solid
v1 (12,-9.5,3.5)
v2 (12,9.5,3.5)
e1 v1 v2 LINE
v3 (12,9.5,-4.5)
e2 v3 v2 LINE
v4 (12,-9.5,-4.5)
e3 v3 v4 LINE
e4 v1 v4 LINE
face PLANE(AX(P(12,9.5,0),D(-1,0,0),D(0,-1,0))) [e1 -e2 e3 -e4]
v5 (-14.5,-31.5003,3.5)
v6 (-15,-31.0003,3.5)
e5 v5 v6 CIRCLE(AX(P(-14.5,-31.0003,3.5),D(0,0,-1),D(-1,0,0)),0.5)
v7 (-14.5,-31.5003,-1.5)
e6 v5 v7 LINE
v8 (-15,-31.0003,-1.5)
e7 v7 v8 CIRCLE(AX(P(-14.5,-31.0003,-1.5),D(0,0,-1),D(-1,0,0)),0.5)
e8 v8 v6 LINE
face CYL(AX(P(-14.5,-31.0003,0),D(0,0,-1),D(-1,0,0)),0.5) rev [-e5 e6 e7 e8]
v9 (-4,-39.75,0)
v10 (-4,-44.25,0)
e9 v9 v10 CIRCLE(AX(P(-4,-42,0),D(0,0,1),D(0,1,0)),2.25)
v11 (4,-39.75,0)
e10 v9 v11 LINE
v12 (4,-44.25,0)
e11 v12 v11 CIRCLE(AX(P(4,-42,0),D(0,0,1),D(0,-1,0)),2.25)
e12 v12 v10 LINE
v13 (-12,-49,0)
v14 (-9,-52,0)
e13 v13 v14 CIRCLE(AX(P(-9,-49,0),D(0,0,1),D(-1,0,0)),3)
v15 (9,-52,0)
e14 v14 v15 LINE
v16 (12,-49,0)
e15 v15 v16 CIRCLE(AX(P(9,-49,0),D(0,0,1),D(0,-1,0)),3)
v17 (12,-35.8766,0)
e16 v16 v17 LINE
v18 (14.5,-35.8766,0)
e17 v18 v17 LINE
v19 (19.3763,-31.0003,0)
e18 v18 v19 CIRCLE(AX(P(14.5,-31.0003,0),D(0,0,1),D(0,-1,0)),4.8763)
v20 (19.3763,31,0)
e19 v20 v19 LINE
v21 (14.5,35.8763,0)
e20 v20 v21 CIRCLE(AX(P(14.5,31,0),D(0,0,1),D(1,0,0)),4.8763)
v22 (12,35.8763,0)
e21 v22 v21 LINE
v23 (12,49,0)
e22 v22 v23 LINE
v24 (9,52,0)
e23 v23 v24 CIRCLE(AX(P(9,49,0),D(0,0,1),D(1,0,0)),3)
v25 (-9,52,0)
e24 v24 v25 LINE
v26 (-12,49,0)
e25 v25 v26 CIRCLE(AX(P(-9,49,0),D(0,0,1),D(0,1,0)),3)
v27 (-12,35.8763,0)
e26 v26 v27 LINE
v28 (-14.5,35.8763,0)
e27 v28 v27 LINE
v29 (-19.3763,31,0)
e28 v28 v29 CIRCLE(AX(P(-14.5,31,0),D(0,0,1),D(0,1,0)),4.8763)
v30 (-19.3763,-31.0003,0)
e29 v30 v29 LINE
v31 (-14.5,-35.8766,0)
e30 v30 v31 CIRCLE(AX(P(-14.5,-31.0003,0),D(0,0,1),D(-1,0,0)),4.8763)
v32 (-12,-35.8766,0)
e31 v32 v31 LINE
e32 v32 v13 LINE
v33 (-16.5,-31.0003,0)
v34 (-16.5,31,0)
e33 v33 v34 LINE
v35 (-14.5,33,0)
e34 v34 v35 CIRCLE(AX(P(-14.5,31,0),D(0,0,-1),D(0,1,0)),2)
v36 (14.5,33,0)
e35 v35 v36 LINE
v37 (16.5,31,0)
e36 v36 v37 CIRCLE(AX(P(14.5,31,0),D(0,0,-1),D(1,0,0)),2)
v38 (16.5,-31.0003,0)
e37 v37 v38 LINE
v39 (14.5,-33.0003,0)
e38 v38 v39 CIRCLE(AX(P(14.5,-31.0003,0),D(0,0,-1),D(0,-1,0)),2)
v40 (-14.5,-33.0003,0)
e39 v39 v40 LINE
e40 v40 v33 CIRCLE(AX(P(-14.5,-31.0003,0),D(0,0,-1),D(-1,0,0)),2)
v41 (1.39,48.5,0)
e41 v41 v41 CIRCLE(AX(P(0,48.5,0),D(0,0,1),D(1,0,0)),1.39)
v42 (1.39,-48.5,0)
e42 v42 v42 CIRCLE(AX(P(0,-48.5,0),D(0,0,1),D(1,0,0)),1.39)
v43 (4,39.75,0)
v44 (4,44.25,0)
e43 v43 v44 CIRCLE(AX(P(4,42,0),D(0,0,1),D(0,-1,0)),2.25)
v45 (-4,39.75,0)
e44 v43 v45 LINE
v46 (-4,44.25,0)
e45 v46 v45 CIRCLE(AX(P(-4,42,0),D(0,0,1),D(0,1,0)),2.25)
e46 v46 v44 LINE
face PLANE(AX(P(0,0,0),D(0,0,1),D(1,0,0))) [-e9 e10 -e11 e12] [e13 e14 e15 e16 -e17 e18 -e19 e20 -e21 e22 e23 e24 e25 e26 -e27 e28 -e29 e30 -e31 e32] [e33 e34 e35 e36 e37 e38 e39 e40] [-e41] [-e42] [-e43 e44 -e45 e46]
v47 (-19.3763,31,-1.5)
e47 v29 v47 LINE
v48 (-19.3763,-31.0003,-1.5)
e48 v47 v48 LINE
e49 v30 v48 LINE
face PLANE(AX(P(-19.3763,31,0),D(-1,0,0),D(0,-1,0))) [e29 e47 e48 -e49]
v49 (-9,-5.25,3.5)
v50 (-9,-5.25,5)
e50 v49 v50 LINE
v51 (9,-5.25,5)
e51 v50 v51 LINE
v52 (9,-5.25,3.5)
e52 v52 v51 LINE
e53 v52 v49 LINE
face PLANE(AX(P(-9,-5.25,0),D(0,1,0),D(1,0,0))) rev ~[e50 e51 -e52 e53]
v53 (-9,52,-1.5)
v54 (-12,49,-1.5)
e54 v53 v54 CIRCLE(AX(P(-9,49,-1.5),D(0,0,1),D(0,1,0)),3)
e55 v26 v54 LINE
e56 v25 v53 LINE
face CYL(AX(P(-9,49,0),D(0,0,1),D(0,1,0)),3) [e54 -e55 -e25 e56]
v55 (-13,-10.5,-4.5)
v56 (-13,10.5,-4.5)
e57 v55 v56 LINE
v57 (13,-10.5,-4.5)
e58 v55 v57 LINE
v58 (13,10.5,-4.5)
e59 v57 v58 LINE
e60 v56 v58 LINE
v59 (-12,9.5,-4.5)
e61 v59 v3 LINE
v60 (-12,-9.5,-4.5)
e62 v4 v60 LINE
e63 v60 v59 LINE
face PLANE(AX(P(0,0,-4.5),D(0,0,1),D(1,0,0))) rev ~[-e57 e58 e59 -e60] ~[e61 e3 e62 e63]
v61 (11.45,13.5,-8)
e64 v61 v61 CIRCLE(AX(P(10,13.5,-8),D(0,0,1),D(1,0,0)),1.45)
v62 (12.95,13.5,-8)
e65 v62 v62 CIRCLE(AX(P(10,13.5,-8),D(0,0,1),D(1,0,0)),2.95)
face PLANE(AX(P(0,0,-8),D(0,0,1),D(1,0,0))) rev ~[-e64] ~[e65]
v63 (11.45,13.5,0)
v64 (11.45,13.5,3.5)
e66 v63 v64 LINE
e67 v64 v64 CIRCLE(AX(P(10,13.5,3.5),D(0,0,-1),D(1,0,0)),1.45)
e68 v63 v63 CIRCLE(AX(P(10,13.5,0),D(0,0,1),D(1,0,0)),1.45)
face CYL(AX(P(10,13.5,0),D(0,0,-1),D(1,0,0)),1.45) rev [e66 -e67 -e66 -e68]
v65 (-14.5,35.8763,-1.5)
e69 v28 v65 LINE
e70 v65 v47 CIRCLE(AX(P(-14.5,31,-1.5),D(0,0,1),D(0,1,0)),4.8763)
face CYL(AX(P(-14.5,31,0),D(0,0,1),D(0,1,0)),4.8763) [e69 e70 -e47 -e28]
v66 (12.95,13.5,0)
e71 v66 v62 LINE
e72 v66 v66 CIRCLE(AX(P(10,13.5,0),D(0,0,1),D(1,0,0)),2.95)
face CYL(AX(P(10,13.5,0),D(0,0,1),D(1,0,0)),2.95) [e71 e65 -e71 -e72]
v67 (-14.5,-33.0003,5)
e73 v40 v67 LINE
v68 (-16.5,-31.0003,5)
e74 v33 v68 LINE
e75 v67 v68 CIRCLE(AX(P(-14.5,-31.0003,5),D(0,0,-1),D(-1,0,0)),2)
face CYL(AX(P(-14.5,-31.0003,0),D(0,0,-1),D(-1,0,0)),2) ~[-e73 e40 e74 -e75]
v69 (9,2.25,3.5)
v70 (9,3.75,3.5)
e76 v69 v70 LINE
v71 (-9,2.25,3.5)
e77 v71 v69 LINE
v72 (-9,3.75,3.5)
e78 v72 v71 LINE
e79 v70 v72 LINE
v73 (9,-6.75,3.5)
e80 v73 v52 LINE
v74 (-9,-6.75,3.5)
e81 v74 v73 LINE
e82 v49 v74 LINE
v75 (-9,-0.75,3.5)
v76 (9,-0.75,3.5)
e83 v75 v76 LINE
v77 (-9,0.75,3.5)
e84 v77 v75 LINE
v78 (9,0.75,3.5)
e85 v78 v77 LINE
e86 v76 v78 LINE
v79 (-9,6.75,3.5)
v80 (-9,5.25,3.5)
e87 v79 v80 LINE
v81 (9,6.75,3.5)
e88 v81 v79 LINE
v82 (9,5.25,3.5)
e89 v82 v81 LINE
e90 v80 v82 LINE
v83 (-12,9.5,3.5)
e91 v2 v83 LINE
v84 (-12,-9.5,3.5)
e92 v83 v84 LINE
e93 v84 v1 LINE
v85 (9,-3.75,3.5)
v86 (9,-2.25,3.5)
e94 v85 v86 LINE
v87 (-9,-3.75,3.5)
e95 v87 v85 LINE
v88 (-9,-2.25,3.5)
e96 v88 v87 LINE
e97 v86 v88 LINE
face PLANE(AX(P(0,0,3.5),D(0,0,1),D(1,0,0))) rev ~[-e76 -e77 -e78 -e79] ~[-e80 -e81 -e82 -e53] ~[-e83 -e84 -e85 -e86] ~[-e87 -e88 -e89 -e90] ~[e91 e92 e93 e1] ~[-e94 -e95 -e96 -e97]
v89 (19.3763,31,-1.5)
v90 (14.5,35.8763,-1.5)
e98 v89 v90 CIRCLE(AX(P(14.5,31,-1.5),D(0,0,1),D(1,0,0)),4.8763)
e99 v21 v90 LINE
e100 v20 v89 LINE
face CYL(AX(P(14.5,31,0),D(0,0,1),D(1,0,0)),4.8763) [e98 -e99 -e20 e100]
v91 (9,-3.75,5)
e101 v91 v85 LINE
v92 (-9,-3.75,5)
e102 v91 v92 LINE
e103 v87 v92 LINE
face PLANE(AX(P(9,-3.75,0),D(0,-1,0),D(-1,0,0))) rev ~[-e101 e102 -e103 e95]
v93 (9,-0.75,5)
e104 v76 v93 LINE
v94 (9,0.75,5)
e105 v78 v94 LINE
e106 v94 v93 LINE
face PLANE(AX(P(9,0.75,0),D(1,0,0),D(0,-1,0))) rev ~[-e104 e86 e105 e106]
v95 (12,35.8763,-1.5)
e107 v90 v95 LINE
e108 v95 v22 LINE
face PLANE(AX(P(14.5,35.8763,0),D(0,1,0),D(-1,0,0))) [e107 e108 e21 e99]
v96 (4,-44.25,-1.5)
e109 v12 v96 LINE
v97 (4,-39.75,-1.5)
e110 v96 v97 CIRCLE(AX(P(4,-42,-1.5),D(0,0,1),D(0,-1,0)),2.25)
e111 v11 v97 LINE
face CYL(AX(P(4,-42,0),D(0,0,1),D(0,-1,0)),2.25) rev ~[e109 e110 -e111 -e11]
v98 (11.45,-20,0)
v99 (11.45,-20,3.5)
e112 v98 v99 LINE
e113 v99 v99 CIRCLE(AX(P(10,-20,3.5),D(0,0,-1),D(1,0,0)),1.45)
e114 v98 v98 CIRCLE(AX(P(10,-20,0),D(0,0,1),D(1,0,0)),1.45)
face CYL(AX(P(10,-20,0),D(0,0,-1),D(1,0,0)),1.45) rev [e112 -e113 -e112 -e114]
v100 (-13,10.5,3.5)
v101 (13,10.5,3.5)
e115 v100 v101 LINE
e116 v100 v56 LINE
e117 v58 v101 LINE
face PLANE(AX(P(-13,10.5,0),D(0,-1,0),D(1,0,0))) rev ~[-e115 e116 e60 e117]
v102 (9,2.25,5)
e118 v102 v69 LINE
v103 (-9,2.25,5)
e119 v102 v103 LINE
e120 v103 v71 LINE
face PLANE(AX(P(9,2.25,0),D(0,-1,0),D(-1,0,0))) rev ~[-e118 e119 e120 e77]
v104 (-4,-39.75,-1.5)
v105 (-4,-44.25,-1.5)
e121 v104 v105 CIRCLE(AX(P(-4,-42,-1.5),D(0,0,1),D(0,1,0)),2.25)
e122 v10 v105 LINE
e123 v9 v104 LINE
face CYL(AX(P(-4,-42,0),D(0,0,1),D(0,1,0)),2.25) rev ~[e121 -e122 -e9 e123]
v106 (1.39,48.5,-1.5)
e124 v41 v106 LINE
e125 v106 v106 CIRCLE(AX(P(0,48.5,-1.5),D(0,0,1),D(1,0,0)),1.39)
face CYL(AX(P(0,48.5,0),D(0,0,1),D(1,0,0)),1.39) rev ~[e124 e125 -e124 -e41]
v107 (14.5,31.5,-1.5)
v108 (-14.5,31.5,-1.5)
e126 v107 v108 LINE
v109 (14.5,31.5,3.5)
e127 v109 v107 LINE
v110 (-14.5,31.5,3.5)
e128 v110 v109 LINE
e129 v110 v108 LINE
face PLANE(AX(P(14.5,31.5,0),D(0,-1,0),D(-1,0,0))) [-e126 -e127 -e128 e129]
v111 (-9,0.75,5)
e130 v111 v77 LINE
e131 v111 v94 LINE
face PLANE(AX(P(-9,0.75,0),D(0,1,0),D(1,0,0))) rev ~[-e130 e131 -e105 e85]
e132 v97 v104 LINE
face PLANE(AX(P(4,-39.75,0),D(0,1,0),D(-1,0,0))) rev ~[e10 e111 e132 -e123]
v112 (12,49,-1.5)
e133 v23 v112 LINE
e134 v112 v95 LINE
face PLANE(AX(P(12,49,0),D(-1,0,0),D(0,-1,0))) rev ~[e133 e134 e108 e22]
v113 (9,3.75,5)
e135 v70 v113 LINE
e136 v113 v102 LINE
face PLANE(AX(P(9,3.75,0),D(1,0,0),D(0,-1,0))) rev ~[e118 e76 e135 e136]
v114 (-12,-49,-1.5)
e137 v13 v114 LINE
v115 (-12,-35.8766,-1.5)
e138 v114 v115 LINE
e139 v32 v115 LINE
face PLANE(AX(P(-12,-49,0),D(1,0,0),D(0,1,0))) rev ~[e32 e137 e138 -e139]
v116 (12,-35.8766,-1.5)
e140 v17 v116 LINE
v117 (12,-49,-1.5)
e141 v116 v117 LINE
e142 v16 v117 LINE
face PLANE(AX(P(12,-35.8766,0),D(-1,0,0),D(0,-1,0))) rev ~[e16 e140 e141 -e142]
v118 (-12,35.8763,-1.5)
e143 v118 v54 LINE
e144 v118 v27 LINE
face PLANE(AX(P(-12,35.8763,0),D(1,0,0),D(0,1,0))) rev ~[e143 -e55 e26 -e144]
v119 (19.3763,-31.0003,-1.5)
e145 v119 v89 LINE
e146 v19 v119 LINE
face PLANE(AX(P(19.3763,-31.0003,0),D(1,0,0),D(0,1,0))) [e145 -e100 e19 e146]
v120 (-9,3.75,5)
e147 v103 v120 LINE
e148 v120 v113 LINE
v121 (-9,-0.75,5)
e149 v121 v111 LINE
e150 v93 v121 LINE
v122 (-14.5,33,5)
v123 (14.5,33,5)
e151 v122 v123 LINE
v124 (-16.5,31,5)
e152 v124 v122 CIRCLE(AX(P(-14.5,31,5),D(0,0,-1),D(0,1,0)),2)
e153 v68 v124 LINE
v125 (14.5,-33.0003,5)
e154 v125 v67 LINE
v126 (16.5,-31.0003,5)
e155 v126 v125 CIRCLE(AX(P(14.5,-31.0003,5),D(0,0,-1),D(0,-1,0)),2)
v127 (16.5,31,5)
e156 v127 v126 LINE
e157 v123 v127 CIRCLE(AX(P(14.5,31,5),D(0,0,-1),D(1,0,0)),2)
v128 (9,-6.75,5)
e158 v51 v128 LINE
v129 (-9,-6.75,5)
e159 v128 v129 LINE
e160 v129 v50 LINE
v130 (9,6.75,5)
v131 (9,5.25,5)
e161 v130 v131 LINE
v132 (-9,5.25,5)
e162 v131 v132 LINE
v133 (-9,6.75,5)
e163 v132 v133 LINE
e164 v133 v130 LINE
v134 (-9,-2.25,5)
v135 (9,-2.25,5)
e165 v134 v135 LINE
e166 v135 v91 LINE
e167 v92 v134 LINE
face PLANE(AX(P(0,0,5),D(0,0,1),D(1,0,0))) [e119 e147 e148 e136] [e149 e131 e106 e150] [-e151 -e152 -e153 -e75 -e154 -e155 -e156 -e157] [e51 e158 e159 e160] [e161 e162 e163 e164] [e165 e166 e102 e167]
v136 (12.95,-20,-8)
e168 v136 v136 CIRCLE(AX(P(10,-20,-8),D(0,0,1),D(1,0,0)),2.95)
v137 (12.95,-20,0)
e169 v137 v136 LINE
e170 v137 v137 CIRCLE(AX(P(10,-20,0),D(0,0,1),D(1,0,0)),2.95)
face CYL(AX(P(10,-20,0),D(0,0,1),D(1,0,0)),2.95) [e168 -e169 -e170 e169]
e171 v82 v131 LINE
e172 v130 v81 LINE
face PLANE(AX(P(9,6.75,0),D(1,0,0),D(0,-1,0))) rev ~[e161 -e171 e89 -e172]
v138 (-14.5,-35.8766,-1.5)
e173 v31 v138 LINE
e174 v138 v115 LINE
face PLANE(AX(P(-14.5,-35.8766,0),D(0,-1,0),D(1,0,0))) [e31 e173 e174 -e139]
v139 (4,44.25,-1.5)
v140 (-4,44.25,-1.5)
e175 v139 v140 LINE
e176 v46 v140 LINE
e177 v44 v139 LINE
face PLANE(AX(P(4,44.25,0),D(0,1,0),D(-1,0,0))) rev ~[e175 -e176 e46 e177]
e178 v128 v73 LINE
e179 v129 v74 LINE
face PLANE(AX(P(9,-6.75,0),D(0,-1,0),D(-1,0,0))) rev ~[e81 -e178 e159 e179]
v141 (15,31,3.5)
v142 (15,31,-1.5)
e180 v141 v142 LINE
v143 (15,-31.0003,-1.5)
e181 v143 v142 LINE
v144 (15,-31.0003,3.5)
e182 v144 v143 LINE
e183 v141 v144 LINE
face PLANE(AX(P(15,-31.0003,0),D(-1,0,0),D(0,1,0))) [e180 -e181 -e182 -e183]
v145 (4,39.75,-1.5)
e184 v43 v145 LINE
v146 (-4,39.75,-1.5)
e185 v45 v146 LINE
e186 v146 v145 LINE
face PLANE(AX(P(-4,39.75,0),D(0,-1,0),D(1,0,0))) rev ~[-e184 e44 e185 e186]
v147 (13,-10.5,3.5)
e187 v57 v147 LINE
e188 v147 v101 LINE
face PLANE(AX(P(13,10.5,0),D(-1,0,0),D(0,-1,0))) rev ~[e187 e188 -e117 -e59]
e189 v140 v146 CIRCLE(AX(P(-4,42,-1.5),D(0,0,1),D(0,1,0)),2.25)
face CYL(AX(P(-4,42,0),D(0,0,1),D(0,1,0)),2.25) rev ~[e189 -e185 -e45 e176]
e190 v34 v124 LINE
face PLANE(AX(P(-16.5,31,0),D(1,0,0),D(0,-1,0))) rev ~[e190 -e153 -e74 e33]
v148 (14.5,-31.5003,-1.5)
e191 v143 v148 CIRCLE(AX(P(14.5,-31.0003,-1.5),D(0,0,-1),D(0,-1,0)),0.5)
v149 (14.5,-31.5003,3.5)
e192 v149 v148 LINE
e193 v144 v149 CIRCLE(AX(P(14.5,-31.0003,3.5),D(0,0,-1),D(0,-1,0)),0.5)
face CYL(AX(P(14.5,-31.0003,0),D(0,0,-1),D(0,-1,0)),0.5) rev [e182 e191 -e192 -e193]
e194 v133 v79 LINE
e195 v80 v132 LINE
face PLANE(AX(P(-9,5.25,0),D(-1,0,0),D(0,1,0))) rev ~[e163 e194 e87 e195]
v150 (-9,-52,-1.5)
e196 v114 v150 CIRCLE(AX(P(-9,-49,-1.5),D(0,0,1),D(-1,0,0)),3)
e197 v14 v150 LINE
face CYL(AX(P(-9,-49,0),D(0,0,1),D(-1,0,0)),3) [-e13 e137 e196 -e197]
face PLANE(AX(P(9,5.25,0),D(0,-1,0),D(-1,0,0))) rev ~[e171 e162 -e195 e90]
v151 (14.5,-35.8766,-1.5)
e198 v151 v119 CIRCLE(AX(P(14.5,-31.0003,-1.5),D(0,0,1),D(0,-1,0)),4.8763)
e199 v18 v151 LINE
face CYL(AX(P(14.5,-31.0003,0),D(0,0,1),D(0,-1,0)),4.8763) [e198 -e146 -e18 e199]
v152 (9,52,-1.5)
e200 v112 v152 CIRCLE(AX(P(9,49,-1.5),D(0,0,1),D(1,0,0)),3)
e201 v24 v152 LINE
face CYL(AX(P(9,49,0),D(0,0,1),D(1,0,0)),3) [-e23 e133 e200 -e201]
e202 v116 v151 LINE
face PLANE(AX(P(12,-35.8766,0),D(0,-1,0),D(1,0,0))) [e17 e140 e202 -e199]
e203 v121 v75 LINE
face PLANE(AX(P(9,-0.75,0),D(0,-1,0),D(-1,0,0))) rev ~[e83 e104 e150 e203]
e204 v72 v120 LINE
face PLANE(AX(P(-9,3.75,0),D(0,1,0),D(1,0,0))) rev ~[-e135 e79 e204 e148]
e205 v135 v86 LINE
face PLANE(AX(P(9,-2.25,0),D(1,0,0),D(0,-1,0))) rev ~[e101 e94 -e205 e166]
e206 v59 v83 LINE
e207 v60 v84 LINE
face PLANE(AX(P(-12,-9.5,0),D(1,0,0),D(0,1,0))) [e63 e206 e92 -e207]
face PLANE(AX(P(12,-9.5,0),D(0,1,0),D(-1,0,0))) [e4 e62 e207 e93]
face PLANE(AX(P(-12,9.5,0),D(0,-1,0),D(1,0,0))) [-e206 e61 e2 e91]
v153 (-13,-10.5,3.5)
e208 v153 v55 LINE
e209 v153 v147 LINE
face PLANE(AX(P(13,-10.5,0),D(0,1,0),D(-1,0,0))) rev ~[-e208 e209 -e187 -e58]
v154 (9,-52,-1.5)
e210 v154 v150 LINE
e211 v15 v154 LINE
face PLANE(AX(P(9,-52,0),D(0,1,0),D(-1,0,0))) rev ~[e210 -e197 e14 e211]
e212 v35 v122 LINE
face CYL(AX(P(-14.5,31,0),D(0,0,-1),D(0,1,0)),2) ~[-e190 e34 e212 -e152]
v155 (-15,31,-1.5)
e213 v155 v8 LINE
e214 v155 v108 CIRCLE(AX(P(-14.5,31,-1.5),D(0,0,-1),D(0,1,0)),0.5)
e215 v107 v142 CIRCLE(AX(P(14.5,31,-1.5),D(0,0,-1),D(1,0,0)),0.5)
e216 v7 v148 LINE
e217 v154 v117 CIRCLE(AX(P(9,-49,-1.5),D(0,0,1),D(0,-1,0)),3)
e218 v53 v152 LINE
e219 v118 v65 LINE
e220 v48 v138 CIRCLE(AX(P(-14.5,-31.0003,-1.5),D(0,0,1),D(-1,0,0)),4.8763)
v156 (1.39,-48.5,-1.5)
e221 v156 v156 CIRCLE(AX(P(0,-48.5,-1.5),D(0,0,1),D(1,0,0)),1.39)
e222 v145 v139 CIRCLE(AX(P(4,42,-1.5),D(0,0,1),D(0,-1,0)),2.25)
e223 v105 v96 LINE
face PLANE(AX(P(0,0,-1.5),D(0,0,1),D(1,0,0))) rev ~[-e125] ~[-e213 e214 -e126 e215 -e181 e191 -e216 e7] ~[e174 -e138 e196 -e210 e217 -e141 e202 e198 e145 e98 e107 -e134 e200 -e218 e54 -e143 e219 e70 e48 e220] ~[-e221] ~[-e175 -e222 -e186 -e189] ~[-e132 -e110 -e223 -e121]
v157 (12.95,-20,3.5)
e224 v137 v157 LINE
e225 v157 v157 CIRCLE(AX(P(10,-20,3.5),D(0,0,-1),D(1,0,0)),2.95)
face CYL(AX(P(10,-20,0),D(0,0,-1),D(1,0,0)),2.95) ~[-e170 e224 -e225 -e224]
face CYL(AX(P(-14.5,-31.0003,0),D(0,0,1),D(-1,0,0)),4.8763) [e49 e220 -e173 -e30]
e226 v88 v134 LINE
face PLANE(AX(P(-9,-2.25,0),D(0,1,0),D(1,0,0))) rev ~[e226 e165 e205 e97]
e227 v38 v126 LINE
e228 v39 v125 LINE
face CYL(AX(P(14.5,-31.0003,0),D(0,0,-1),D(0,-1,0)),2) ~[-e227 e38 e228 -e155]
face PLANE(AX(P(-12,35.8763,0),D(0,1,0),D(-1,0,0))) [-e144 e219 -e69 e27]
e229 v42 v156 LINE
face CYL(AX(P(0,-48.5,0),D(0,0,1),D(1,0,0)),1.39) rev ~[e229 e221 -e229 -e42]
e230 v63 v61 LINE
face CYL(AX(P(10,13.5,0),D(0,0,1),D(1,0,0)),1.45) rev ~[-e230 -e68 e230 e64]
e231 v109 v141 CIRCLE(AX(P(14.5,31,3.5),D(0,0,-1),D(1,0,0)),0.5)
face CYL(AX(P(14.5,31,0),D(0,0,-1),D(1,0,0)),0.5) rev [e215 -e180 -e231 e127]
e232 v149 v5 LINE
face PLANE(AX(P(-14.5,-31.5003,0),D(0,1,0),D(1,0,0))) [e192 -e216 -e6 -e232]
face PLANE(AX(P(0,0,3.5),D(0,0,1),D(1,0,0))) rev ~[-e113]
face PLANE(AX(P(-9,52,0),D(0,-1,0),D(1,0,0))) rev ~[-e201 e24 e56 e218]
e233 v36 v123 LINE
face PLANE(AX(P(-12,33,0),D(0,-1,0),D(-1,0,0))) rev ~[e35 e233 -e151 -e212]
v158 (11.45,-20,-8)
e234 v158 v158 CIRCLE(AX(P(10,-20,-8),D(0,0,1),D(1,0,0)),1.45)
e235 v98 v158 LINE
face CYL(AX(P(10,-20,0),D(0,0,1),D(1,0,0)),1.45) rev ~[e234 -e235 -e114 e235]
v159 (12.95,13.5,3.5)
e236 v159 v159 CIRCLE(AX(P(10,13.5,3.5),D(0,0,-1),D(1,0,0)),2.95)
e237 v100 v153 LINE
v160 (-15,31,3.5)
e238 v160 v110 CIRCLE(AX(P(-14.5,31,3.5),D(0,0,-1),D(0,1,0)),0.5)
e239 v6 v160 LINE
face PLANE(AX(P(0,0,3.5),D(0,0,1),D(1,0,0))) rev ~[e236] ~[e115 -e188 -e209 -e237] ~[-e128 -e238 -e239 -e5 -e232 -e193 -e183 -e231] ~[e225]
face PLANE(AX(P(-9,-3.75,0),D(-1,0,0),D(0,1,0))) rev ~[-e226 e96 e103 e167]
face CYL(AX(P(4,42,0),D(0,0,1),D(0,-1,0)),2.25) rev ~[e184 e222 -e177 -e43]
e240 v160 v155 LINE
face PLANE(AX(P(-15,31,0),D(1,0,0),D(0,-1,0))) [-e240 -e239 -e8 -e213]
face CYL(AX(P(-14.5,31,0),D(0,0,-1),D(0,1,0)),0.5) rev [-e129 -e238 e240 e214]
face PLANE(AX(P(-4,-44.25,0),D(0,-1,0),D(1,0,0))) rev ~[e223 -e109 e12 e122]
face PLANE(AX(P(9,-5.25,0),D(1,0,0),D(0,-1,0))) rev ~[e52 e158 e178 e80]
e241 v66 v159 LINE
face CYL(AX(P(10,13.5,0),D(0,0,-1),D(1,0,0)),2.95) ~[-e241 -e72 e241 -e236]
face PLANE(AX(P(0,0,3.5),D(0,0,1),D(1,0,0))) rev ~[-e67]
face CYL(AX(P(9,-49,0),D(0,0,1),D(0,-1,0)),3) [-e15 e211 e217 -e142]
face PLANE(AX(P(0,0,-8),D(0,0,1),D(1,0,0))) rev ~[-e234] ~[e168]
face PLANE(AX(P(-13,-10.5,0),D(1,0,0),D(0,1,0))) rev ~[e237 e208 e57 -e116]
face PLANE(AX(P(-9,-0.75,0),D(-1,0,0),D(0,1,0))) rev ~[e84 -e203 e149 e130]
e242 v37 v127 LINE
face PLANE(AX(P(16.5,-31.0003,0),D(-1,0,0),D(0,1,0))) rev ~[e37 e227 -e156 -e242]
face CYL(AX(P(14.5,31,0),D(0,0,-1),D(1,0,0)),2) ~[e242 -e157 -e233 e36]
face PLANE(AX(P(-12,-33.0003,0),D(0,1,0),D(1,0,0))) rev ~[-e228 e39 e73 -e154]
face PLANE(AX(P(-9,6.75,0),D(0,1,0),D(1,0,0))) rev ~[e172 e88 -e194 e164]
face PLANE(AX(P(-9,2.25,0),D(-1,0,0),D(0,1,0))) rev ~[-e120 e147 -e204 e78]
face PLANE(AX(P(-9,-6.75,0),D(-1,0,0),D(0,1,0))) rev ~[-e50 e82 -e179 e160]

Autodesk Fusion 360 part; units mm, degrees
sketch "Sketch1" plane through (0, 0, 0) normal (0, 0, 1) x (1, 0, 0) in component "Main plate"
  line L0 (12, -33.0003) -> (12, -49)
  line L1 (-14.5, -33.0003) -> (14.5, -33.0003)
  line L2 (14.5, 33) -> (-14.5, 33)
  line L3 (-9, 52) -> (9, 52)
  line L4 (-12, 33) -> (-12, 49)
  line L5 (16.5, -31.0003) -> (16.5, 31)
  line L6 (-12, -49) -> (-12, -33.0003)
  circle A0 centre (0, -48.5) radius 1.39
  circle A1 centre (0, 48.5) radius 1.39
  line L7 (9, -52) -> (-9, -52)
  line L8 (12, 49) -> (12, 33)
  arc A2 (-14.5, 33) -> (-16.5, 31) centre (-14.5, 31) ccw
  line L9 (-16.5, 31) -> (-16.5, -31.0003)
  arc A3 (16.5, 31) -> (14.5, 33) centre (14.5, 31) ccw
  arc A4 (14.5, -33.0003) -> (16.5, -31.0003) centre (14.5, -31.0003) ccw
  arc A5 (-16.5, -31.0003) -> (-14.5, -33.0003) centre (-14.5, -31.0003) ccw
  arc A6 (-12, -49) -> (-9, -52) centre (-9, -49) ccw
  arc A7 (9, -52) -> (12, -49) centre (9, -49) ccw
  arc A8 (-9, 52) -> (-12, 49) centre (-9, 49) ccw
  arc A9 (12, 49) -> (9, 52) centre (9, 49) ccw
  line L10 (-14.5, -35.8766) -> (14.5, -35.8766)
  arc A10 (14.5, -35.8766) -> (19.3763, -31.0003) centre (14.5, -31.0003) ccw
  line L11 (19.3763, -31.0003) -> (19.3763, 31)
  arc A11 (19.3763, 31) -> (14.5, 35.8763) centre (14.5, 31) ccw
  line L12 (14.5, 35.8763) -> (-14.5, 35.8763)
  arc A12 (-14.5, 35.8763) -> (-19.3763, 31) centre (-14.5, 31) ccw
  line L13 (-19.3763, 31) -> (-19.3763, -31.0003)
  arc A13 (-19.3763, -31.0003) -> (-14.5, -35.8766) centre (-14.5, -31.0003) ccw
  line L14 (-4, 39.75) -> (4, 39.75)
  arc A14 (4, 39.75) -> (4, 44.25) centre (4, 42) ccw
  line L15 (4, 44.25) -> (-4, 44.25)
  arc A15 (-4, 44.25) -> (-4, 39.75) centre (-4, 42) ccw
  line L16 (-4, 42) -> (4, 42) construction
  line L17 (-4, -42) -> (4, -42) construction
  arc A16 (4, -44.25) -> (4, -39.75) centre (4, -42) ccw
  line L18 (-4, -44.25) -> (4, -44.25)
  arc A17 (-4, -39.75) -> (-4, -44.25) centre (-4, -42) ccw
  line L19 (4, -39.75) -> (-4, -39.75)
  line L20 (-14.5, -31.5003) -> (14.5, -31.5003)
  arc A18 (14.5, -31.5003) -> (15, -31.0003) centre (14.5, -31.0003) ccw
  line L21 (15, -31.0003) -> (15, 31)
  arc A19 (15, 31) -> (14.5, 31.5) centre (14.5, 31) ccw
  line L22 (14.5, 31.5) -> (-14.5, 31.5)
  arc A20 (-14.5, 31.5) -> (-15, 31) centre (-14.5, 31) ccw
  line L23 (-15, 31) -> (-15, -31.0003)
  arc A21 (-15, -31.0003) -> (-14.5, -31.5003) centre (-14.5, -31.0003) ccw
  line L24 (9, -0.75) -> (-9, -0.75)
  line L25 (-9, -0.75) -> (-9, 0.75)
  line L26 (-9, 0.75) -> (9, 0.75)
  line L27 (9, 0.75) -> (9, -0.75)
  line L28 (9, 3.75) -> (9, 2.25)
  line L29 (9, 2.25) -> (-9, 2.25)
  line L30 (-9, 2.25) -> (-9, 3.75)
  line L31 (-9, 3.75) -> (9, 3.75)
  line L32 (-9, 5.25) -> (-9, 6.75)
  line L33 (-9, 6.75) -> (9, 6.75)
  line L34 (9, 5.25) -> (-9, 5.25)
  line L35 (9, 6.75) -> (9, 5.25)
  line L36 (-9, -2.25) -> (9, -2.25)
  line L37 (9, -2.25) -> (9, -3.75)
  line L38 (-9, -3.75) -> (-9, -2.25)
  line L39 (9, -3.75) -> (-9, -3.75)
  line L40 (9, -5.25) -> (9, -6.75)
  line L41 (-9, -5.25) -> (9, -5.25)
  line L42 (-9, -6.75) -> (-9, -5.25)
  line L43 (9, -6.75) -> (-9, -6.75)
  line L44 (12, -9.5) -> (-12, -9.5)
  line L45 (-12, -9.5) -> (-12, 9.5)
  line L46 (-12, 9.5) -> (12, 9.5)
  line L47 (12, 9.5) -> (12, -9.5)
  line L48 (13, -10.5) -> (-13, -10.5)
  line L49 (-13, -10.5) -> (-13, 10.5)
  line L50 (-13, 10.5) -> (13, 10.5)
  line L51 (13, 10.5) -> (13, -10.5)
  circle A22 centre (10, 13.5) radius 1.45
  circle A23 centre (10, -20) radius 1.45
  circle A24 centre (10, 13.5) radius 2.95
  circle A25 centre (10, -20) radius 2.95
  point P0 (10, 0)
  point P1 (10, 0)
  point P2 (0, 42)
  point P3 (0, -42)
  point P4 (0, 3)
  point P5 (0, 3)
  point P6 (0, 3)
  point P7 (0, 3)
  point P8 (0, 6)
  point P9 (0, 6)
  point P10 (0, 6)
  point P11 (0, 6)
  point P12 (0, -3)
  point P13 (0, -3)
  point P14 (0, -3)
  point P15 (0, -3)
  point P16 (0, -6)
  point P17 (0, -6)
  point P18 (0, -6)
  point P19 (0, -6)
  point P20 (10, 0)
  dimension "d15" = 2
  dimension "d16" = 2
  dimension "d17" = 3
  dimension "d18" = 3
  dimension "d19" = 3
  dimension "d20" = 3
  dimension "d26" = 4.5
  dimension "d27" = 4.5
  dimension "d54" = 2.9
  dimension "d55" = 2.9
  dimension "d56" = 1.5
  dimension "d57" = 1.5
  dimension "d66" = 2.78
  dimension "d67" = 2.78
extrude "Extrude1" add sketch "Sketch1" along normal blind 5 contours L1 L2 L5 A2 L9 A3 A4 A5 | L20 A18 L21 A19 L22 A20 L23 A21 | L24 L25 L26 L27 | L28 L29 L30 L31 | L32 L33 L34 L35 | L36 L37 L38 L39 | L40 L41 L42 L43 | L44 L45 L46 L47 | L48 L49 L50 L51 | A22 | A23 | A24 | A25 makes body 1 in component "Main plate"
extrude "Extrude2" add sketch "Sketch1" against normal blind 1.5 separate body contours L0 L1 L2 L5 L8 A3 A4 L10 A10 L11 A11 L12 | L0 L1 L6 L10 | L0 L6 L7 A6 A7 L10 | L1 L2 L4 L6 A2 L9 A5 L10 L12 A12 L13 A13 | L2 L4 L8 L12 | L3 L4 L8 A8 A9 L12 | L14 A14 L15 A15 | A16 L18 A17 L19 makes body 2 in component "Main plate"
extrude "Extrude3" cut sketch "Sketch1" against normal through all contours L14 A14 L15 A15 bodies 2 in component "Main plate"
extrude "Extrude4" cut sketch "Sketch1" against normal through all contours A16 L18 A17 L19 bodies 2 in component "Main plate"
extrude "Extrude5" add sketch "Sketch1" against normal blind 1.5 contours L1 L2 L5 A2 L9 A3 A4 A5 | L20 A18 L21 A19 L22 A20 L23 A21 | L24 L25 L26 L27 | L28 L29 L30 L31 | L32 L33 L34 L35 | L36 L37 L38 L39 | L40 L41 L42 L43 | L44 L45 L46 L47 | L48 L49 L50 L51 | A22 | A23 | A24 | A25 bodies 1 2 in component "Main plate"
extrude "Extrude6" cut sketch "Sketch1" along normal blind 3.5 contours L20 A18 L21 A19 L22 A20 L23 A21 | L24 L25 L26 L27 | L28 L29 L30 L31 | L32 L33 L34 L35 | L36 L37 L38 L39 | L40 L41 L42 L43 | L44 L45 L46 L47 | L48 L49 L50 L51 | A22 | A23 | A24 | A25 bodies 1 in component "Main plate"
extrude "Extrude7" add sketch "Sketch1" along normal blind 3.5 separate body contours L20 A18 L21 A19 L22 A20 L23 A21 | L24 L25 L26 L27 | L28 L29 L30 L31 | L32 L33 L34 L35 | L36 L37 L38 L39 | L40 L41 L42 L43 | L44 L45 L46 L47 | L48 L49 L50 L51 | A22 | A23 | A24 | A25 makes body 3 in component "Main plate"
extrude "Extrude8" add sketch "Sketch1" against normal blind 1.5 contours L20 A18 L21 A19 L22 A20 L23 A21 | L24 L25 L26 L27 | L28 L29 L30 L31 | L32 L33 L34 L35 | L36 L37 L38 L39 | L40 L41 L42 L43 | L44 L45 L46 L47 | L48 L49 L50 L51 | A22 | A23 | A24 | A25 bodies 3 in component "Main plate"
combine "Combine1" operation cut target body 1 tool bodies 3 in component "Main plate"
extrude "Extrude9" add sketch "Sketch1" along normal blind 13 separate body contours L24 L25 L26 L27 | L28 L29 L30 L31 | L32 L33 L34 L35 | L36 L37 L38 L39 | L40 L41 L42 L43 makes body 4 at (3, -0.75, 4.3333) makes body 5 at (-3, -2.25, 4.3333) makes body 6 at (3, 2.25, 4.3333) makes body 7 at (3, -6.75, 4.3333) makes body 8 at (-3, 6.75, 4.3333) in component "Main plate"
combine "Combine2" operation cut target body 1 tool bodies 8 6 4 5 7 in component "Main plate"
extrude "Extrude10" add sketch "Sketch1" along normal blind 4 contours L48 L49 L50 L51 bodies 1 in component "Main plate"
extrude "Extrude11" add 1 faces at (-4, -10.1667, 0) along direction (0, 0, -1) blind 4.5 on bodies 1 bodies 1 in component "Main plate"
extrude "Extrude12" add sketch "Sketch1" along normal blind 3.5 separate body contours A24 makes body 9 in component "Main plate"
extrude "Extrude13" add sketch "Sketch1" against normal blind 6.5 contours A24 bodies 9 in component "Main plate"
extrude "Extrude14" add sketch "Sketch1" along normal blind 3.5 separate body contours A25 makes body 10 in component "Main plate"
extrude "Extrude15" add sketch "Sketch1" against normal blind 6.5 contours A25 bodies 10 in component "Main plate"
combine "Combine3" operation add target body 1 tool bodies 9 10 in component "Main plate"
move_face "OffsetFaces1" offset 1.5 1 faces at (12.439, 13.3534, -6.5) on bodies 1 in component "Main plate"
move_face "OffsetFaces2" offset 1.5 1 faces at (12.4336, -20.2186, -6.5) on bodies 1 in component "Main plate"
component "Main plate" placed x (1, 0, 0) y (0, 1, 0) z (0, 0, 1) at (0, 0, 0)
